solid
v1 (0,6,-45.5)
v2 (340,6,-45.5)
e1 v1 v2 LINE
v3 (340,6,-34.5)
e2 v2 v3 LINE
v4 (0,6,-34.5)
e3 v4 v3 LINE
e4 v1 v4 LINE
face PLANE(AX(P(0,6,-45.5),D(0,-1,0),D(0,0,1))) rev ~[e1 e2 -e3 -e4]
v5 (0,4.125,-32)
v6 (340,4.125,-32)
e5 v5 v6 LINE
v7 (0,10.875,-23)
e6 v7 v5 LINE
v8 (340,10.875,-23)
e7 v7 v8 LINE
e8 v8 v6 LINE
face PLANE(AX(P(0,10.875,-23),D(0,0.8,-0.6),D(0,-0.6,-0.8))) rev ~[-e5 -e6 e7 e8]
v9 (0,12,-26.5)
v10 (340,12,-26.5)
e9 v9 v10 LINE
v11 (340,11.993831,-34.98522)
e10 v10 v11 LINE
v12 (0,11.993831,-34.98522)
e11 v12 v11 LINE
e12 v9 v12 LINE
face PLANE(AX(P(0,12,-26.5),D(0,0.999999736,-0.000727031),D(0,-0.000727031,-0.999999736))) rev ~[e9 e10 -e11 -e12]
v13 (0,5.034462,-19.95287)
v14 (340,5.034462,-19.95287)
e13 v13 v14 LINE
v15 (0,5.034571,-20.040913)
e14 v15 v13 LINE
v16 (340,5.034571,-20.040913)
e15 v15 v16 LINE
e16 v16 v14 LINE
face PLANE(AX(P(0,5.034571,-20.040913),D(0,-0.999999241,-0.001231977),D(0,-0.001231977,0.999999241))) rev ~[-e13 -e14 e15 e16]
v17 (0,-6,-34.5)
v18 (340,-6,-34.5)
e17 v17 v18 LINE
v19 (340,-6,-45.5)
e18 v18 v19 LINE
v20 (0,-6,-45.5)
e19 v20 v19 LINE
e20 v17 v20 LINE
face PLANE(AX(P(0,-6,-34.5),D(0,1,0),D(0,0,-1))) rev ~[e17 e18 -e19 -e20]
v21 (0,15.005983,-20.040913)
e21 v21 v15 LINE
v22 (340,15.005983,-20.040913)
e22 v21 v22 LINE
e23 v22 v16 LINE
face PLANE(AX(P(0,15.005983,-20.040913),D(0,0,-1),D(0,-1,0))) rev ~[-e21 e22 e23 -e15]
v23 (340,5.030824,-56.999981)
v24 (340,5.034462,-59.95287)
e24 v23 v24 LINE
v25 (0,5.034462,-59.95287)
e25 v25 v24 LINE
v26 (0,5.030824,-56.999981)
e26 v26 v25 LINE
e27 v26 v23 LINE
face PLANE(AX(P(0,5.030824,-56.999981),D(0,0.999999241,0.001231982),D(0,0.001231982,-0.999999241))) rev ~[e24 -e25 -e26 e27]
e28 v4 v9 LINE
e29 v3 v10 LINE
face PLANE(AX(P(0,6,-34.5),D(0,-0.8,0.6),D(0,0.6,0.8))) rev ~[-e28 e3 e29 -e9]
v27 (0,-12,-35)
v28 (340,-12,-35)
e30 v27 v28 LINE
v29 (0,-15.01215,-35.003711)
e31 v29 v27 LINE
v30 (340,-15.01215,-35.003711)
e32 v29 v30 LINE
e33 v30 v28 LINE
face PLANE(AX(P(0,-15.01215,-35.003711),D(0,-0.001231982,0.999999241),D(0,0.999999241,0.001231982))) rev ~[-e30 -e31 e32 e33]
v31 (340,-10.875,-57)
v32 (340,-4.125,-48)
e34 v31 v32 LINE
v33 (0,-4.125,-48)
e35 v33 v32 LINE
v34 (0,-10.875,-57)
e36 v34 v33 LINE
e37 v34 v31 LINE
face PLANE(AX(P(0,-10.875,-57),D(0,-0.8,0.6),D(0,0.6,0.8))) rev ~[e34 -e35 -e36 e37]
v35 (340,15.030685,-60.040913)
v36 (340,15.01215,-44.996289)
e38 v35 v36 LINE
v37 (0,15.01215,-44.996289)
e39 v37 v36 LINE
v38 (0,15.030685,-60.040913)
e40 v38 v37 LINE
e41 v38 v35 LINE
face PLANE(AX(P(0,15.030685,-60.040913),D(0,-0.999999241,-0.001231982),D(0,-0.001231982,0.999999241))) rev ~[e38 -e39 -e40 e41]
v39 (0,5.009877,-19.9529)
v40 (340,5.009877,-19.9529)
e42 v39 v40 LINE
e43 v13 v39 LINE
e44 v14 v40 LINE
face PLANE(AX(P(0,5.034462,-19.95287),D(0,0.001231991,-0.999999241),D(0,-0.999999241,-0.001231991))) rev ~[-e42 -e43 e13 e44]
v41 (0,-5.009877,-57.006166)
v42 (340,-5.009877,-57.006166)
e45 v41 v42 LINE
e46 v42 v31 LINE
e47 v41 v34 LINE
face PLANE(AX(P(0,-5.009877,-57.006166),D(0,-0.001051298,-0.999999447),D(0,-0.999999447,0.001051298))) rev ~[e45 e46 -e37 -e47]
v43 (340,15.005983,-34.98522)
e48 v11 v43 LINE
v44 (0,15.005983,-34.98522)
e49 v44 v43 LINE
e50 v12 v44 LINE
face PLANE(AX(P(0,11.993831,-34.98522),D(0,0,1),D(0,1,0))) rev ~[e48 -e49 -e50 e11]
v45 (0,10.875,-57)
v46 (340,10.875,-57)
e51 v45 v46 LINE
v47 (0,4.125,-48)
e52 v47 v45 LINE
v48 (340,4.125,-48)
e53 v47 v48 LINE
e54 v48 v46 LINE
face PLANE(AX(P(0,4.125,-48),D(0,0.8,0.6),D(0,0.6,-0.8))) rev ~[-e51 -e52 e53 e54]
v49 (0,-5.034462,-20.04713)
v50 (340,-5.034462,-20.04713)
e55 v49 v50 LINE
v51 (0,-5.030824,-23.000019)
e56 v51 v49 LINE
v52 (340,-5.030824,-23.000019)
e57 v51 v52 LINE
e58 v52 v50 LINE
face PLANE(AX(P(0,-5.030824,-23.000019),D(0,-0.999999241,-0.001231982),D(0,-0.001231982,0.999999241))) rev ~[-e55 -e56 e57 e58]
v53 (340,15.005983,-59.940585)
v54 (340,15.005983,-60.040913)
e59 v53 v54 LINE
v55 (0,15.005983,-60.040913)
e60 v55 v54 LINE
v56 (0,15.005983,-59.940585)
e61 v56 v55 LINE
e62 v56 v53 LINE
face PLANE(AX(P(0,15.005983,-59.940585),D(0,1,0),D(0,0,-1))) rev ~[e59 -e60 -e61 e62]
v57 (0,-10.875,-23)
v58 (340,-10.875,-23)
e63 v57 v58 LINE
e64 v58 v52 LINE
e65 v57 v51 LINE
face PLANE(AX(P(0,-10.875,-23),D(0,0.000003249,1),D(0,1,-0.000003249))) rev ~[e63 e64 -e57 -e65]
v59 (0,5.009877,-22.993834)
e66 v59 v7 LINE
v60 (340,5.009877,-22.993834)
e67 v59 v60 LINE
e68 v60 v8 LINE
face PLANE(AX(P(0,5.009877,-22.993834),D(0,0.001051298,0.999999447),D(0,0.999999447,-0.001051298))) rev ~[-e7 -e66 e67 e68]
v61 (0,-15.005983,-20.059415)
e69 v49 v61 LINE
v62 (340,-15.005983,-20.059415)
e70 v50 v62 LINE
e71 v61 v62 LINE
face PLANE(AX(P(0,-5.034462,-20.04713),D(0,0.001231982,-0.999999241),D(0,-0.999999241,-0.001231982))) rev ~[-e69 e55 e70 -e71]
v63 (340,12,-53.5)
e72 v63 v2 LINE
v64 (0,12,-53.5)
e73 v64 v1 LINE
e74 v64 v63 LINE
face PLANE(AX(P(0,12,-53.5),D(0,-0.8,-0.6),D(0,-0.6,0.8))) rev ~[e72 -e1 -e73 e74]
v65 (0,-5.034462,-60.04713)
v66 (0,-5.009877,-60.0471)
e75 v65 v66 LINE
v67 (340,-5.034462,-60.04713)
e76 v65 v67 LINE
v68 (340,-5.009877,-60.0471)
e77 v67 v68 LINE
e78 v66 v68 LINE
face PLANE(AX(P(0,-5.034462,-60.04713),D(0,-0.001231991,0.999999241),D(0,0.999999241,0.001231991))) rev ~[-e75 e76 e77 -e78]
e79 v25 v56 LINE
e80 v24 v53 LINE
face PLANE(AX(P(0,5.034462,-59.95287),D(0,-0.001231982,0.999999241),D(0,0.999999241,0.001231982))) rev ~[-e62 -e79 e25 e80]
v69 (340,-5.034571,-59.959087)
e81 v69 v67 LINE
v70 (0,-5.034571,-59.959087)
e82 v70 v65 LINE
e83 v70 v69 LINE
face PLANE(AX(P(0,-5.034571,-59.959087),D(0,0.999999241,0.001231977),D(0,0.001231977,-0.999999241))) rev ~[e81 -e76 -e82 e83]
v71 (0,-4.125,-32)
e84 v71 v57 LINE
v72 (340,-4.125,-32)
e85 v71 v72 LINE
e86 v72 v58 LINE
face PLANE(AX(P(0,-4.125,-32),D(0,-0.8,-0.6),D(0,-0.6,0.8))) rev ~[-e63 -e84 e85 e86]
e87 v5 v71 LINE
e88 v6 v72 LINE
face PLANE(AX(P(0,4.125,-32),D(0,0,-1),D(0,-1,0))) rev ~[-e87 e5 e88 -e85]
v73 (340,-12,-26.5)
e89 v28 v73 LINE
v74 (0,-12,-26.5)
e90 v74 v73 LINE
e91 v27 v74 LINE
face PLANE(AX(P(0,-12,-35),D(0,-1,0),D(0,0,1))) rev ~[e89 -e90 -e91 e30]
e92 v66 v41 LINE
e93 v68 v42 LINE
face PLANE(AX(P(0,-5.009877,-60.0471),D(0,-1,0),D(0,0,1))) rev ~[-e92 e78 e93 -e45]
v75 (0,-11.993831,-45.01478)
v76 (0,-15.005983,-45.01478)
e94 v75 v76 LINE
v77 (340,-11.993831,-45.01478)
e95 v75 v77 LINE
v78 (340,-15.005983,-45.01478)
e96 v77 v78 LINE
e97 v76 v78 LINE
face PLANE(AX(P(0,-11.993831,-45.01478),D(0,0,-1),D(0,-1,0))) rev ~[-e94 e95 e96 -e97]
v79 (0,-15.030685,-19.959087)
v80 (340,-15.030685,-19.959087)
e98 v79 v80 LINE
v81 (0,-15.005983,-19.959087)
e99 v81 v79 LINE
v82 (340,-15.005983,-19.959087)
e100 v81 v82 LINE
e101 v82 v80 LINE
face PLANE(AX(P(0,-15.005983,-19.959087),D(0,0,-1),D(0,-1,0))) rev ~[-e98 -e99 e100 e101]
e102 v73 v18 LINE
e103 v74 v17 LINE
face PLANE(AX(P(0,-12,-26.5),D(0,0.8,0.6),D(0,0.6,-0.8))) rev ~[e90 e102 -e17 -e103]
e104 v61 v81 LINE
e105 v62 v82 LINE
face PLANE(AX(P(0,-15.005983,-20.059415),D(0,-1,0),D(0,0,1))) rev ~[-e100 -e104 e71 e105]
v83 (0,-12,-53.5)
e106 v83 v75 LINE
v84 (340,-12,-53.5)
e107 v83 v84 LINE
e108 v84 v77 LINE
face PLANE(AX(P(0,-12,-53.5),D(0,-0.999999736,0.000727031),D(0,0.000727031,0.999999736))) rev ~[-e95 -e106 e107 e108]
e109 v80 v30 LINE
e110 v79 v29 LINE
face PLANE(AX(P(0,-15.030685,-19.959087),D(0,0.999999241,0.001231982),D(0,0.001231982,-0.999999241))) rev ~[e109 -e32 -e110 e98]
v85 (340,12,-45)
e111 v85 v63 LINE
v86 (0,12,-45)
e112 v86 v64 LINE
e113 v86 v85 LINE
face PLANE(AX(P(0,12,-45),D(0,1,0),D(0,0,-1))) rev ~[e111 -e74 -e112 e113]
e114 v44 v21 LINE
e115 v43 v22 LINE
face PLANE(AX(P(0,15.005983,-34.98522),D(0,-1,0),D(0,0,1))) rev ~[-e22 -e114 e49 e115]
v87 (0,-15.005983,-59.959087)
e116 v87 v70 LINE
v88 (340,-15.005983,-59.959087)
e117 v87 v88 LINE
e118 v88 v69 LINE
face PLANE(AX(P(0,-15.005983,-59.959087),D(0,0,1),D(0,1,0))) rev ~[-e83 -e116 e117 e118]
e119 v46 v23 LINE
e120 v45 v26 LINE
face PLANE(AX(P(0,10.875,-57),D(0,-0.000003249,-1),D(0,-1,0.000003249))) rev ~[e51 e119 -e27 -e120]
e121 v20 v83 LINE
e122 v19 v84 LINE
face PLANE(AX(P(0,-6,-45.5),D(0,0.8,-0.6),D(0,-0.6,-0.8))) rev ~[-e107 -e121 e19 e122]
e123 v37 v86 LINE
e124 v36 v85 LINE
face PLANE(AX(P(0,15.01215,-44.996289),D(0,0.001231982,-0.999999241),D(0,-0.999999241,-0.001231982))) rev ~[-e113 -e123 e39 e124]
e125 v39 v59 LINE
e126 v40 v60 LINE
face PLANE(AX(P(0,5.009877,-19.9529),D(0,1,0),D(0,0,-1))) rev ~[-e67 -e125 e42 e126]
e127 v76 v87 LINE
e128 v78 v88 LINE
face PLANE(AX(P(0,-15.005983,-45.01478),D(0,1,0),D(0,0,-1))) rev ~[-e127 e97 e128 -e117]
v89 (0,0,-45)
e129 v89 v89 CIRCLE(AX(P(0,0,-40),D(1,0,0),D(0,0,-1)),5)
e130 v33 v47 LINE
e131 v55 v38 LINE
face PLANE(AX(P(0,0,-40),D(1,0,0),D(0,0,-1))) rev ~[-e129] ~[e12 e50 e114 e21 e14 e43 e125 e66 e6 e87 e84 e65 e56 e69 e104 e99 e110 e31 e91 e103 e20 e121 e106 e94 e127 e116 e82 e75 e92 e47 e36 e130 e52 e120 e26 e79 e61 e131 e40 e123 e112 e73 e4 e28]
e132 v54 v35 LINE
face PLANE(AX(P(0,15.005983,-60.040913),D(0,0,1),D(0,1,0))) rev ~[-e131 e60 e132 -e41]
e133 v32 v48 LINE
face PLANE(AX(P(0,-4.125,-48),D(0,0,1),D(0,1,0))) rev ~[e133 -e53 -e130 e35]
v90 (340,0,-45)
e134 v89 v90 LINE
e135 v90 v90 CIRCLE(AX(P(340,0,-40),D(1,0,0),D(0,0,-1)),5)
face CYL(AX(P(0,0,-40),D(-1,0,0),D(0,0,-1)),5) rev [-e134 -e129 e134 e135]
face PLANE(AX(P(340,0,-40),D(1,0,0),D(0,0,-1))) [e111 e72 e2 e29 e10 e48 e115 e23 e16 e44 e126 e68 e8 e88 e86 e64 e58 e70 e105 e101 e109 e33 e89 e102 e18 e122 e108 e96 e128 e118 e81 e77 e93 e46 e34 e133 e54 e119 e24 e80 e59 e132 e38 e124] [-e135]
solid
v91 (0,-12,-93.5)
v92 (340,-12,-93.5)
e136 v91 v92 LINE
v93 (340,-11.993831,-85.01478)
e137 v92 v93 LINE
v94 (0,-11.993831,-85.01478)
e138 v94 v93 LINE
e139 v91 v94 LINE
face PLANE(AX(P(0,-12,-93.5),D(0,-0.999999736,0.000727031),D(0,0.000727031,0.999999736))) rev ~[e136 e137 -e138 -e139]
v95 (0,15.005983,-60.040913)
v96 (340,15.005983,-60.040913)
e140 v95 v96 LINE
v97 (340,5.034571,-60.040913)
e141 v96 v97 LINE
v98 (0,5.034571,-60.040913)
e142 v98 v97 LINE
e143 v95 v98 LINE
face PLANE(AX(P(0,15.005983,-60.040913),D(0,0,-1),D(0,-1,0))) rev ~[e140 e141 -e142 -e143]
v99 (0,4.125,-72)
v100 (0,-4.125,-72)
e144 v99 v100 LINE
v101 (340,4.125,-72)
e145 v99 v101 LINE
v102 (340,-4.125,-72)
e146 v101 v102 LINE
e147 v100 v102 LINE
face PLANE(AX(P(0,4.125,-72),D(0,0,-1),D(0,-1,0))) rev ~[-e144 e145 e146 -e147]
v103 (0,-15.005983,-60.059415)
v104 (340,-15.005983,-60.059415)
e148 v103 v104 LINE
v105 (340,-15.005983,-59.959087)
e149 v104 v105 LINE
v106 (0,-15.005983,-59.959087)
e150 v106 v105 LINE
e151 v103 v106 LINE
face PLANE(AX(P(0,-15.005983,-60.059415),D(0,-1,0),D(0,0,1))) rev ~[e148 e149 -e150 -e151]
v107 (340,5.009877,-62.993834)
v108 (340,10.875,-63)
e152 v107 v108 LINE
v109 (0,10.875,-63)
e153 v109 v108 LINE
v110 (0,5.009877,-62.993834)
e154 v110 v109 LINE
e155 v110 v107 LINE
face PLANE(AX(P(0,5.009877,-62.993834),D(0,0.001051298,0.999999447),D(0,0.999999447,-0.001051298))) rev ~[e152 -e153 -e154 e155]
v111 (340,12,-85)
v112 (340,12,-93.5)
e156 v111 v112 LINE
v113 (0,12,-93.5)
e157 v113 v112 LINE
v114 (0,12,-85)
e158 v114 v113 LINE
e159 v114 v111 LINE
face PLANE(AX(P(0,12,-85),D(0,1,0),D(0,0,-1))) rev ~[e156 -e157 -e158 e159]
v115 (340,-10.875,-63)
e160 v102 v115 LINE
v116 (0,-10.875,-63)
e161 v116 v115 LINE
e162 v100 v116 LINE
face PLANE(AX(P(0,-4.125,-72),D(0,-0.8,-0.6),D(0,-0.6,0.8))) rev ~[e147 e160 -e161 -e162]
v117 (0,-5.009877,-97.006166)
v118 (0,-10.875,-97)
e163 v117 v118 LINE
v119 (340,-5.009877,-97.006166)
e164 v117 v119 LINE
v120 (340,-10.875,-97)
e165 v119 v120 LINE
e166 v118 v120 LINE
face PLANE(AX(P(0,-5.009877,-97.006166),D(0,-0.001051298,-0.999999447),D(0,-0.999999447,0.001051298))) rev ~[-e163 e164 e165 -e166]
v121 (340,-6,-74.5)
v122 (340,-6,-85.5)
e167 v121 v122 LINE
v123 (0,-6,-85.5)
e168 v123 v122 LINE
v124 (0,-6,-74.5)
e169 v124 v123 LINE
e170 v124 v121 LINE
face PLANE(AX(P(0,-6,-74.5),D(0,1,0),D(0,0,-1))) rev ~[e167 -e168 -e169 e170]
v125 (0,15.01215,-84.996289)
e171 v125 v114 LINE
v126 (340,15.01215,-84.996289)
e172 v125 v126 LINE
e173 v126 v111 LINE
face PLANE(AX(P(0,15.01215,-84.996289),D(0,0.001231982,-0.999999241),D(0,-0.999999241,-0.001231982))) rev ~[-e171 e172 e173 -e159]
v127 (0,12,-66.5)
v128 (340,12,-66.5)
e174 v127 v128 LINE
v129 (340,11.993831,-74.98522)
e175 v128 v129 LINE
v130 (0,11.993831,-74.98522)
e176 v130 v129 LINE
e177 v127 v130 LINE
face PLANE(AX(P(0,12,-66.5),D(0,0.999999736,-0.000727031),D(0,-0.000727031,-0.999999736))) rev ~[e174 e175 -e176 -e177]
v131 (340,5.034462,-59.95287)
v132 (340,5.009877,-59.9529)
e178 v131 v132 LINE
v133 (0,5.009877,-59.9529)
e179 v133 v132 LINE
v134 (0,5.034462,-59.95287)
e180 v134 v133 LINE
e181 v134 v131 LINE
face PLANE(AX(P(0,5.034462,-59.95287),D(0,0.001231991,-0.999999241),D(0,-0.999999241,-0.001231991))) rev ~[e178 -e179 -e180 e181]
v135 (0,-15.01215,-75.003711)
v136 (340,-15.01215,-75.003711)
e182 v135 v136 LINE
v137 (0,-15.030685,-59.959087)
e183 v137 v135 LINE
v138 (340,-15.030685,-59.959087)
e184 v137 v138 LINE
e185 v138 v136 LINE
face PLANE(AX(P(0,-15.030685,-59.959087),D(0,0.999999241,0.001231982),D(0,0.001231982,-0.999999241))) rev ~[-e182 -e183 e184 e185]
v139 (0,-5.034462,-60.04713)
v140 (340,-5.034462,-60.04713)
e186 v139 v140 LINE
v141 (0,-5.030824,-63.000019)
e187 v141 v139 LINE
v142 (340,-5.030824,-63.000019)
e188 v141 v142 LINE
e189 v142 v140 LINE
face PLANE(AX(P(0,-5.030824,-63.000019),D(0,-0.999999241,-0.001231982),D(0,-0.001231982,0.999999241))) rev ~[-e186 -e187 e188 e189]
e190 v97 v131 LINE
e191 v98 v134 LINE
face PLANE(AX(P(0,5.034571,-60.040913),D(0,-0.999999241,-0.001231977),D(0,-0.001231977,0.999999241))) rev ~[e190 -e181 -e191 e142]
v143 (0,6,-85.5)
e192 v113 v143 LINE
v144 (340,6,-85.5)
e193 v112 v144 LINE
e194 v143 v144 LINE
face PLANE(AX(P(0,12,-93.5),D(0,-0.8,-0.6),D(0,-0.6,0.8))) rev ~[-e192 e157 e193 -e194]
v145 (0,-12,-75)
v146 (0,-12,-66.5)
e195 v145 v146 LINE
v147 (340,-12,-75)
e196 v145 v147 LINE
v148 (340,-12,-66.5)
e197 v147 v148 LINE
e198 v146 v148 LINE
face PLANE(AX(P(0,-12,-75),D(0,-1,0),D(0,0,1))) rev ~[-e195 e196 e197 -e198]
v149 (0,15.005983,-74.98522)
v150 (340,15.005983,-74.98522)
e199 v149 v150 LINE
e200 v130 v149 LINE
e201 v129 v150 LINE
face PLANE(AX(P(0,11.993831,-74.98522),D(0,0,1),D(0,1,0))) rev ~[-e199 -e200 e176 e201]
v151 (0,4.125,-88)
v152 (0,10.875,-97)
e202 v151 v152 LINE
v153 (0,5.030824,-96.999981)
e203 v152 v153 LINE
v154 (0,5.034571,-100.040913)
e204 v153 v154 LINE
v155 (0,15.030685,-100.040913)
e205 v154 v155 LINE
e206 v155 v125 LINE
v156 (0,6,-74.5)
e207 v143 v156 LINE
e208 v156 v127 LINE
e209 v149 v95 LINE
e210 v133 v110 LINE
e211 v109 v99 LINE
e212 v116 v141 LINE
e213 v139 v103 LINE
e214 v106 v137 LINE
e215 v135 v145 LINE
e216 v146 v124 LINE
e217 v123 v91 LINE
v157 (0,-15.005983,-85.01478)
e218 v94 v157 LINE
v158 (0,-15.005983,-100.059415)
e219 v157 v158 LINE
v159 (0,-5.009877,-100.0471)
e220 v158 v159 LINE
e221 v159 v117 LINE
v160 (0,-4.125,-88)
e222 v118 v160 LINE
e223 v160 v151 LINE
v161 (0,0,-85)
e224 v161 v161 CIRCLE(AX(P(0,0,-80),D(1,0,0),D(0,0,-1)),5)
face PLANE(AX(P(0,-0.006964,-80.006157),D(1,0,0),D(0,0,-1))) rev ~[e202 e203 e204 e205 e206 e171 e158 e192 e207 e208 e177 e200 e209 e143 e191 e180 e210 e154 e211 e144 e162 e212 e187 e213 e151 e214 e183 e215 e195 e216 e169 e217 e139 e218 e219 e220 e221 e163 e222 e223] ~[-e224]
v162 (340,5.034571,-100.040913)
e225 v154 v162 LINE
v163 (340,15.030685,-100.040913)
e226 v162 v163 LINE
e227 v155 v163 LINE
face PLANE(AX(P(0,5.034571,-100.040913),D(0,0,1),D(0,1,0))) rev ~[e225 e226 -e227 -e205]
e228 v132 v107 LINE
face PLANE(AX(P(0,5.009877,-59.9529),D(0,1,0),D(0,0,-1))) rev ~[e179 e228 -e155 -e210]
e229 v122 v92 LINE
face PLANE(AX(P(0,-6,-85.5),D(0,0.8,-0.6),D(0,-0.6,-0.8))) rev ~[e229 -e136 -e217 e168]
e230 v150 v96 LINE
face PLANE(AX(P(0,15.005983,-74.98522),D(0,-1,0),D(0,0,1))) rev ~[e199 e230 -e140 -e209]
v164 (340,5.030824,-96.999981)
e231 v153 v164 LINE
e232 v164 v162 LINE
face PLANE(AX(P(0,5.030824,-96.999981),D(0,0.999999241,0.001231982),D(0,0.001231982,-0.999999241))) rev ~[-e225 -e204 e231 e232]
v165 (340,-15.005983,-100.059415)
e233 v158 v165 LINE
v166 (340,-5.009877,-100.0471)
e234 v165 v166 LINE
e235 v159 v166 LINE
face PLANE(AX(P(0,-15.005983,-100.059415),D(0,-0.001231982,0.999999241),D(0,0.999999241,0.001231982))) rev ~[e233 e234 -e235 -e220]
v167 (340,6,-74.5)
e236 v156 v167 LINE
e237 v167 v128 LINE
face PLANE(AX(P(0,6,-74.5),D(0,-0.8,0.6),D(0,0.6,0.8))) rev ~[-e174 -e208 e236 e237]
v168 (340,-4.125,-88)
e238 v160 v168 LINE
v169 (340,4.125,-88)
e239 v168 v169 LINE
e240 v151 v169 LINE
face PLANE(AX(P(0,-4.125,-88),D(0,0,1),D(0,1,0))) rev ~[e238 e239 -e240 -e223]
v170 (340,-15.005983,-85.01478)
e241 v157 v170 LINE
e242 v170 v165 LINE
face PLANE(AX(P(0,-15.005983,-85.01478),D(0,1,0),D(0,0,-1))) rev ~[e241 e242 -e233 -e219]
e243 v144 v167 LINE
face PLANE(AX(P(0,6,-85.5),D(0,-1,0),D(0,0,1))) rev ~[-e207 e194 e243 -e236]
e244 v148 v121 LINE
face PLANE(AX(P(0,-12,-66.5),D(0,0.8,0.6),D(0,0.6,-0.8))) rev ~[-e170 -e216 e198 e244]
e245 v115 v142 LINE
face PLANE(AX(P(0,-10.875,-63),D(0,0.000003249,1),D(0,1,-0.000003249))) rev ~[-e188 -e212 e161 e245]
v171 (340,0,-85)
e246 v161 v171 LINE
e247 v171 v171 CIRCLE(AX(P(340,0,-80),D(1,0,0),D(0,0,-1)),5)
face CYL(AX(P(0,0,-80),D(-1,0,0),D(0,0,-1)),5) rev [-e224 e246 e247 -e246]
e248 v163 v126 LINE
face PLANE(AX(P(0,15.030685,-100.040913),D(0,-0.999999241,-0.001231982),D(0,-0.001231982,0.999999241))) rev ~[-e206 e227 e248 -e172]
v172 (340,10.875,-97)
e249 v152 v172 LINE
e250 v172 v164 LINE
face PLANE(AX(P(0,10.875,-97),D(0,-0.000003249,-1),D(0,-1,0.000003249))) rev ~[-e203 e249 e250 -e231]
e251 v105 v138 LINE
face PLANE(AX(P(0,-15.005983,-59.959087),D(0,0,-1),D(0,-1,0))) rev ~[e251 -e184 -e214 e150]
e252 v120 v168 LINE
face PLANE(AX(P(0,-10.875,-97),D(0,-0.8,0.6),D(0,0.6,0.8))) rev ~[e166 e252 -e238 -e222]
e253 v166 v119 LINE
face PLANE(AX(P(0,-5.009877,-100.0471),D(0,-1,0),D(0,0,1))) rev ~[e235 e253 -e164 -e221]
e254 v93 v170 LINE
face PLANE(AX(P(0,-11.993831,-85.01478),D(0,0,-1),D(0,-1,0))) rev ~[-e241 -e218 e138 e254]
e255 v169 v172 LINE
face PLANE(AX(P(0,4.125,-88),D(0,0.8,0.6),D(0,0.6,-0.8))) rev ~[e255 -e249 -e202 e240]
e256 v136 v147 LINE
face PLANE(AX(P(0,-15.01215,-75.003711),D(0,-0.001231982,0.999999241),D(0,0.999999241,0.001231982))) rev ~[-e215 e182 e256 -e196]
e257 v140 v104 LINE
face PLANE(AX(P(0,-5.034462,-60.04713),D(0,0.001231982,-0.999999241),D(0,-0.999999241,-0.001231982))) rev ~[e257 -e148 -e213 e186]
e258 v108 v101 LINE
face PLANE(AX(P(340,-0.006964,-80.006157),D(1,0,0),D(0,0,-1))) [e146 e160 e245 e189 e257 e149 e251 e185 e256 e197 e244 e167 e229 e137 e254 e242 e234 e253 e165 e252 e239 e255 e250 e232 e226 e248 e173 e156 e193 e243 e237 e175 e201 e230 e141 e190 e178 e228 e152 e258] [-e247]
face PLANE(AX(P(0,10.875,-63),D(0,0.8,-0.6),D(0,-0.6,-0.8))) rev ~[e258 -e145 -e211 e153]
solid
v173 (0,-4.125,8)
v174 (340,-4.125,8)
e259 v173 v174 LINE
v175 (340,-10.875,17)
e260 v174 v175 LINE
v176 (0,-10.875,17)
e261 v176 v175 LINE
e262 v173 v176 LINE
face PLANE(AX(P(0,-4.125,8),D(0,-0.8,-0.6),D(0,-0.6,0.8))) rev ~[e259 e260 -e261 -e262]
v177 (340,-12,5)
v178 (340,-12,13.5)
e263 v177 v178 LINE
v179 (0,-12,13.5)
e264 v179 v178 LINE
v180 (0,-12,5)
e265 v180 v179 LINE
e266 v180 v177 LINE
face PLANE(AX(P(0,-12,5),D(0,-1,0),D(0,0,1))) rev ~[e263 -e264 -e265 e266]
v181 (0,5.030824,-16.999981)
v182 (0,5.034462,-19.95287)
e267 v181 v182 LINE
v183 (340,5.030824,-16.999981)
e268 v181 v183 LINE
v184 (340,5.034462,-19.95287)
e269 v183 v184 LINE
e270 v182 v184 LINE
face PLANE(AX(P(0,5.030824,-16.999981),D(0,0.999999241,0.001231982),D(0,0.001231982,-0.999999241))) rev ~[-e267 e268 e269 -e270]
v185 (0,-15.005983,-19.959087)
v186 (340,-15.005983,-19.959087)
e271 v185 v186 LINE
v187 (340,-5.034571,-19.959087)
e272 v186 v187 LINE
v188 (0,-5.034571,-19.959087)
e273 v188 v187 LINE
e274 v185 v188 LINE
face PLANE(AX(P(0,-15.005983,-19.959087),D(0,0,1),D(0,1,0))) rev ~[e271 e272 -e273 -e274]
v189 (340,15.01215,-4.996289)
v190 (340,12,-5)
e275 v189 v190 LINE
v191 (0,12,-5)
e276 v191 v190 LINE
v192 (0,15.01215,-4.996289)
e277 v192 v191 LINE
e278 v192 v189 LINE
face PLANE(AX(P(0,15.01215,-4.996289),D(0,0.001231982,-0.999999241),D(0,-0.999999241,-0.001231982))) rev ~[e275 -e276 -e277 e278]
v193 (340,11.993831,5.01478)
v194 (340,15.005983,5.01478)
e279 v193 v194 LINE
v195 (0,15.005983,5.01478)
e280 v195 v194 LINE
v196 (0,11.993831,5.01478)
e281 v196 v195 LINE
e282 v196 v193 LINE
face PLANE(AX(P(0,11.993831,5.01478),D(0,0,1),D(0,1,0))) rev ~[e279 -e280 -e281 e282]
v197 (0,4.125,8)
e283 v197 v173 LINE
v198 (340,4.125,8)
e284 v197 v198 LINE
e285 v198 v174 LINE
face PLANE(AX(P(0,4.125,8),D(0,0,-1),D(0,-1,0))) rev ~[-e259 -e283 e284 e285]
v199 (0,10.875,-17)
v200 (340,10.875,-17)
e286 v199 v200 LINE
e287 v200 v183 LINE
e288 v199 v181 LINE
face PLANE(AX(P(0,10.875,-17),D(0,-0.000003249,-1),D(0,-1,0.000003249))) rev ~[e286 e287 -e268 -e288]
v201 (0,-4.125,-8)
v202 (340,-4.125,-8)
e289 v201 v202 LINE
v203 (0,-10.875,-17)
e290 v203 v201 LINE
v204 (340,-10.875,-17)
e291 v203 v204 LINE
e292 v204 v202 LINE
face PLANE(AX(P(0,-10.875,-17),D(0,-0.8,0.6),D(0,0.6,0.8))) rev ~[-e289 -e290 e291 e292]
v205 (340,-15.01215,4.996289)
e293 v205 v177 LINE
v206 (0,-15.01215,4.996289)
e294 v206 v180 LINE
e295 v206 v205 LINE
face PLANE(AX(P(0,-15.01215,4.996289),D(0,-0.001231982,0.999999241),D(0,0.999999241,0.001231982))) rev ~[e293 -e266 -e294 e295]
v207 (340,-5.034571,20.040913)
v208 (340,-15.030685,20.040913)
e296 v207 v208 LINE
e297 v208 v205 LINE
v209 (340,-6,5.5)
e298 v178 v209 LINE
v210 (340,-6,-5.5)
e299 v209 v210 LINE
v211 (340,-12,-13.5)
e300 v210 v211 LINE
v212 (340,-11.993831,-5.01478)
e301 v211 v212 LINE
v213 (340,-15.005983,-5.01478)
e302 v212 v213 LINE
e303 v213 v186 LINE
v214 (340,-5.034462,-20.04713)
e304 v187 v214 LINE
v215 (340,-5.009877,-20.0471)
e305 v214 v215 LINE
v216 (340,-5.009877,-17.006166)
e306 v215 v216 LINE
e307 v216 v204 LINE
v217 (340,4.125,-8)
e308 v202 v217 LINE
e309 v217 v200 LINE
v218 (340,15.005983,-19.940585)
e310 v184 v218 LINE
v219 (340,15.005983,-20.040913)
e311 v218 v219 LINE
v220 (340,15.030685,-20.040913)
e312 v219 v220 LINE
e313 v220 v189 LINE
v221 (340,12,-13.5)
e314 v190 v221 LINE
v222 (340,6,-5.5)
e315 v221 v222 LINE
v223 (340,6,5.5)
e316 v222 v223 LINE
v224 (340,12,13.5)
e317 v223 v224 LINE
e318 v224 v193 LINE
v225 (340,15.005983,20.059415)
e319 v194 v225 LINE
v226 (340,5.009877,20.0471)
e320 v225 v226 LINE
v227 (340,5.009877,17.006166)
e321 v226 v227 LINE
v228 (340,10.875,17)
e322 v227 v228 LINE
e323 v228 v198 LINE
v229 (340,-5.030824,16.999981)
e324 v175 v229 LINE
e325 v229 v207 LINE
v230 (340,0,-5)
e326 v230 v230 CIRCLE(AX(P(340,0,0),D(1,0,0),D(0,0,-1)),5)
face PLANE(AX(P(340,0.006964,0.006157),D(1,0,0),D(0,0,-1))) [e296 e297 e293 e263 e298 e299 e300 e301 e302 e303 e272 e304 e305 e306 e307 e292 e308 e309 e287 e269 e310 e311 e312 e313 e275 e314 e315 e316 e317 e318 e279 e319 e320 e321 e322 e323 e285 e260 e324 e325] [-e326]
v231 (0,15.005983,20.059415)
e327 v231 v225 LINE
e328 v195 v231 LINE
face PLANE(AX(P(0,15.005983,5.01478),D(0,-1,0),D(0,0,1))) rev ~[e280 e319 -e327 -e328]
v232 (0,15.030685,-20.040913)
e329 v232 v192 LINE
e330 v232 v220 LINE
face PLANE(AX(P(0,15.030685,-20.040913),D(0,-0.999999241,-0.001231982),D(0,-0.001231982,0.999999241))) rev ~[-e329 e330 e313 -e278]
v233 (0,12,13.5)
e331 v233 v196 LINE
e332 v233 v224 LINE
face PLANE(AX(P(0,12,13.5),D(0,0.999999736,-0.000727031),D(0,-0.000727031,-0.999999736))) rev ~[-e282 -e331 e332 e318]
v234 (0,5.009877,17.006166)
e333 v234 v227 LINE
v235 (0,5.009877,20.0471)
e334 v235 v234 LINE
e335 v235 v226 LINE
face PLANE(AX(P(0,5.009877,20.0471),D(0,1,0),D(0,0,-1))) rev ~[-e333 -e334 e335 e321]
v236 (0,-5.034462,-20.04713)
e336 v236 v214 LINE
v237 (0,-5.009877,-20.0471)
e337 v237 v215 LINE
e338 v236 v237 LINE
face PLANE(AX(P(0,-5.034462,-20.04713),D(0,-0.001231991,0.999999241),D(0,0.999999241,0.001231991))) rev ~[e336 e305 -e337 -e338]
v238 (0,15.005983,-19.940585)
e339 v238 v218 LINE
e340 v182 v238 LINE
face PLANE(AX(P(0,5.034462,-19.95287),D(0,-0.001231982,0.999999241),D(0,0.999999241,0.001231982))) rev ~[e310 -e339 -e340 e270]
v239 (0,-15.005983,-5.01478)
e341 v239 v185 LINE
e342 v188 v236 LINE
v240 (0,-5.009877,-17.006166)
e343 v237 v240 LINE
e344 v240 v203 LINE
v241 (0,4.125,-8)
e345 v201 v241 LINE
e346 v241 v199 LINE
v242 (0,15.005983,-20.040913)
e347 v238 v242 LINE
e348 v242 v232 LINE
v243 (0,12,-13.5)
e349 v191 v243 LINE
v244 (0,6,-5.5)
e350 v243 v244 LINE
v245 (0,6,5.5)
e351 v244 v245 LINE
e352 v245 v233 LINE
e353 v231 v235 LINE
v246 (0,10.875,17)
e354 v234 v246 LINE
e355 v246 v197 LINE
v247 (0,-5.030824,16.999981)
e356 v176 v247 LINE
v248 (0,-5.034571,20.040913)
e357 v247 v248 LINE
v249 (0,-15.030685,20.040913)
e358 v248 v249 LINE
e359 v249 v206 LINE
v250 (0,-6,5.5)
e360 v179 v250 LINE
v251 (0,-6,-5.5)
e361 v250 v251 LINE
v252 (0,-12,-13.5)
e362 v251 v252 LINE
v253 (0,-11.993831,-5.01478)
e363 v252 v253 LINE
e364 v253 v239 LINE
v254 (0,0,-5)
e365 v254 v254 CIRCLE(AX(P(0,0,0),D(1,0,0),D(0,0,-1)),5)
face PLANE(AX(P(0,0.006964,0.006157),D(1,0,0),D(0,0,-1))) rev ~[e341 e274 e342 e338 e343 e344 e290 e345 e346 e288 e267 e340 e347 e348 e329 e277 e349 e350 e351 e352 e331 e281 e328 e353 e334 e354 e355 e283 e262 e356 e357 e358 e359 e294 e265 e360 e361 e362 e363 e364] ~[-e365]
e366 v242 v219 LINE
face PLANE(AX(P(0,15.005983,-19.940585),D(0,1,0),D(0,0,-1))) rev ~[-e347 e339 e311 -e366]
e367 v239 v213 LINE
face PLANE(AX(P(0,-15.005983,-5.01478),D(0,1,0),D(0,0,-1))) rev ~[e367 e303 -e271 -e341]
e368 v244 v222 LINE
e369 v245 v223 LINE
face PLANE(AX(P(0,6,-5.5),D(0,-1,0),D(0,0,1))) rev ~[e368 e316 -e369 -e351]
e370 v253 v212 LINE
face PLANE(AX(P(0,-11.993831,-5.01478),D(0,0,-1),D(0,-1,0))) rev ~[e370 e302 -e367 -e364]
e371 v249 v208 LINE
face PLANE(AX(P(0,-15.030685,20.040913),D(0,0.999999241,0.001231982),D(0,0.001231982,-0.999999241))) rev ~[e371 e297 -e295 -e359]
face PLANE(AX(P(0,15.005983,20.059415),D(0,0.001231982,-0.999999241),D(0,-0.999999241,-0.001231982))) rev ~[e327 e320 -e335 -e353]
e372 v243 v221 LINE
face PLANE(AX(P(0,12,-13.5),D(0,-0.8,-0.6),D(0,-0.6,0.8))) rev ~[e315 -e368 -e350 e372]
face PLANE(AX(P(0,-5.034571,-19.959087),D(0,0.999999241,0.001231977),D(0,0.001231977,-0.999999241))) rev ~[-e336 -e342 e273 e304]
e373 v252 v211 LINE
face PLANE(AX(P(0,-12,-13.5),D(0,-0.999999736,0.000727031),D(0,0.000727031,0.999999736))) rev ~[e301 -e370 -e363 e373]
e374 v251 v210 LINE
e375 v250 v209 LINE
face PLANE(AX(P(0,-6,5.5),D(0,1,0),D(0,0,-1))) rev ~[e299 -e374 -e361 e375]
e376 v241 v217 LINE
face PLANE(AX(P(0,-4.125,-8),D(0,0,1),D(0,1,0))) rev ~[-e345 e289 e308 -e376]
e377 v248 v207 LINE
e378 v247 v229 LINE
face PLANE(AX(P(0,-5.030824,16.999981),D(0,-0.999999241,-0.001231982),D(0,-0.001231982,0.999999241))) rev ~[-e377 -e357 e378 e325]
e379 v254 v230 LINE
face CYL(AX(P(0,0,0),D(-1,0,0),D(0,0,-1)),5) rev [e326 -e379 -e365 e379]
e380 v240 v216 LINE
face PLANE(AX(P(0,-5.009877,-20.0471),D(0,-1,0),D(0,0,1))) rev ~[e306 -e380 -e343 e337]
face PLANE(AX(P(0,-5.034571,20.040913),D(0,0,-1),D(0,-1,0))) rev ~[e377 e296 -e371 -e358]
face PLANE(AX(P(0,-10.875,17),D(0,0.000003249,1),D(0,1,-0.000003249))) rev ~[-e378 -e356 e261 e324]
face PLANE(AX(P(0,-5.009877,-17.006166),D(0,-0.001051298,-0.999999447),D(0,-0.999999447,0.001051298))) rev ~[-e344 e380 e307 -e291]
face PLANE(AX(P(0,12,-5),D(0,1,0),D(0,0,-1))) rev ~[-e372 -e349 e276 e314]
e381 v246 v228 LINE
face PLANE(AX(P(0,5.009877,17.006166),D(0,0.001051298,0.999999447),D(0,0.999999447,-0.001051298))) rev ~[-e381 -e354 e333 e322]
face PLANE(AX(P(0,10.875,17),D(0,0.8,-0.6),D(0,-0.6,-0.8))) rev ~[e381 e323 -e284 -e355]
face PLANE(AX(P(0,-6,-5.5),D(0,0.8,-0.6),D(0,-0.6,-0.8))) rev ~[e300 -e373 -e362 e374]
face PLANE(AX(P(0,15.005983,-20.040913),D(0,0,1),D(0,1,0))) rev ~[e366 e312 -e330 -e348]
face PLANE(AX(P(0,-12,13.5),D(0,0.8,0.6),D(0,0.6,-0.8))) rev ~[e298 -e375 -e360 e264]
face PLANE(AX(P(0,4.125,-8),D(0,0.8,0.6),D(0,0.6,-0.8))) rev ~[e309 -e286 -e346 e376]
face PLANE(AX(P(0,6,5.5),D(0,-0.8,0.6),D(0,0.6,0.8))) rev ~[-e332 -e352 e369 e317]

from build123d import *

# Parameters (mm, degrees)
SKETCH1_R           = 5
BOSS_EXTRUDE1_DEPTH = 340


with BuildPart() as part:
    # Sketch1 → Boss-Extrude1 (new body)
    # profile 1 of 3: a face of its own
    with BuildSketch(Plane(origin=(0, 0, 0), x_dir=(0, 0, -1), z_dir=(1, 0, 0))):
        Polygon((-17.006165996, 5.009876651), (-17, 10.875), (-8, 4.125), (-8, -4.125), (-17, -10.875), (-16.999981013, -5.030824138), (-20.040912697, -5.034570514), (-20.040912697, -15.030684523), (-4.996289083, -15.012149805), (-5, -12), (-13.5, -12), (-5.5, -6), (5.5, -6), (13.5, -12), (5.014779989, -11.993830984), (5.014779989, -15.005983074), (19.959087303, -15.005983074), (19.959087303, -5.034570514), (20.047130277, -5.034462047), (20.047099988, -5.009876651), (17.006165996, -5.009876651), (17, -10.875), (8, -4.125), (8, 4.125), (17, 10.875), (16.999981013, 5.030824138), (19.952869723, 5.034462047), (19.94058498, 15.005983074), (20.040912697, 15.005983074), (20.040912697, 15.030684523), (4.996289083, 15.012149805), (5, 12), (13.5, 12), (5.5, 6), (-5.5, 6), (-13.5, 12), (-5.014779989, 11.993830984), (-5.014779989, 15.005983074), (-20.05941502, 15.005983074), (-20.047099988, 5.009876651), align=None)
        Circle(SKETCH1_R, mode=Mode.SUBTRACT)
    # profile 2 of 3: a face of its own
    with BuildSketch(Plane(origin=(0, 0, 0), x_dir=(0, 0, -1), z_dir=(1, 0, 0))):
        Polygon((34.985220011, 15.005983074), (20.040912697, 15.005983074), (20.040912697, 5.034570514), (19.952869723, 5.034462047), (19.952900012, 5.009876651), (22.993834004, 5.009876651), (23, 10.875), (32, 4.125), (32, -4.125), (23, -10.875), (23.000018987, -5.030824138), (20.047130277, -5.034462047), (20.05941502, -15.005983074), (19.959087303, -15.005983074), (19.959087303, -15.030684523), (35.003710917, -15.012149805), (35, -12), (26.5, -12), (34.5, -6), (45.5, -6), (53.5, -12), (45.014779989, -11.993830984), (45.014779989, -15.005983074), (59.959087303, -15.005983074), (59.959087303, -5.034570514), (60.047130277, -5.034462047), (60.047099988, -5.009876651), (57.006165996, -5.009876651), (57, -10.875), (48, -4.125), (48, 4.125), (57, 10.875), (56.999981013, 5.030824138), (59.952869723, 5.034462047), (59.94058498, 15.005983074), (60.040912697, 15.005983074), (60.040912697, 15.030684523), (44.996289083, 15.012149805), (45, 12), (53.5, 12), (45.5, 6), (34.5, 6), (26.5, 12), (34.985220011, 11.993830984), align=None)
        with Locations((40, 0)):
            Circle(SKETCH1_R, mode=Mode.SUBTRACT)
    # profile 3 of 3: a face of its own
    with BuildSketch(Plane(origin=(0, 0, 0), x_dir=(0, 0, -1), z_dir=(1, 0, 0))):
        Polygon((74.985220011, 15.005983074), (60.040912697, 15.005983074), (60.040912697, 5.034570514), (59.952869723, 5.034462047), (59.952900012, 5.009876651), (62.993834004, 5.009876651), (63, 10.875), (72, 4.125), (72, -4.125), (63, -10.875), (63.000018987, -5.030824138), (60.047130277, -5.034462047), (60.05941502, -15.005983074), (59.959087303, -15.005983074), (59.959087303, -15.030684523), (75.003710917, -15.012149805), (75, -12), (66.5, -12), (74.5, -6), (85.5, -6), (93.5, -12), (85.014779989, -11.993830984), (85.014779989, -15.005983074), (100.05941502, -15.005983074), (100.047099988, -5.009876651), (97.006165996, -5.009876651), (97, -10.875), (88, -4.125), (88, 4.125), (97, 10.875), (96.999981013, 5.030824138), (100.040912697, 5.034570514), (100.040912697, 15.030684523), (84.996289083, 15.012149805), (85, 12), (93.5, 12), (85.5, 6), (74.5, 6), (66.5, 12), (74.985220011, 11.993830984), align=None)
        with Locations((80, 0)):
            Circle(SKETCH1_R, mode=Mode.SUBTRACT)
    extrude(amount=BOSS_EXTRUDE1_DEPTH)


solid = part.part
